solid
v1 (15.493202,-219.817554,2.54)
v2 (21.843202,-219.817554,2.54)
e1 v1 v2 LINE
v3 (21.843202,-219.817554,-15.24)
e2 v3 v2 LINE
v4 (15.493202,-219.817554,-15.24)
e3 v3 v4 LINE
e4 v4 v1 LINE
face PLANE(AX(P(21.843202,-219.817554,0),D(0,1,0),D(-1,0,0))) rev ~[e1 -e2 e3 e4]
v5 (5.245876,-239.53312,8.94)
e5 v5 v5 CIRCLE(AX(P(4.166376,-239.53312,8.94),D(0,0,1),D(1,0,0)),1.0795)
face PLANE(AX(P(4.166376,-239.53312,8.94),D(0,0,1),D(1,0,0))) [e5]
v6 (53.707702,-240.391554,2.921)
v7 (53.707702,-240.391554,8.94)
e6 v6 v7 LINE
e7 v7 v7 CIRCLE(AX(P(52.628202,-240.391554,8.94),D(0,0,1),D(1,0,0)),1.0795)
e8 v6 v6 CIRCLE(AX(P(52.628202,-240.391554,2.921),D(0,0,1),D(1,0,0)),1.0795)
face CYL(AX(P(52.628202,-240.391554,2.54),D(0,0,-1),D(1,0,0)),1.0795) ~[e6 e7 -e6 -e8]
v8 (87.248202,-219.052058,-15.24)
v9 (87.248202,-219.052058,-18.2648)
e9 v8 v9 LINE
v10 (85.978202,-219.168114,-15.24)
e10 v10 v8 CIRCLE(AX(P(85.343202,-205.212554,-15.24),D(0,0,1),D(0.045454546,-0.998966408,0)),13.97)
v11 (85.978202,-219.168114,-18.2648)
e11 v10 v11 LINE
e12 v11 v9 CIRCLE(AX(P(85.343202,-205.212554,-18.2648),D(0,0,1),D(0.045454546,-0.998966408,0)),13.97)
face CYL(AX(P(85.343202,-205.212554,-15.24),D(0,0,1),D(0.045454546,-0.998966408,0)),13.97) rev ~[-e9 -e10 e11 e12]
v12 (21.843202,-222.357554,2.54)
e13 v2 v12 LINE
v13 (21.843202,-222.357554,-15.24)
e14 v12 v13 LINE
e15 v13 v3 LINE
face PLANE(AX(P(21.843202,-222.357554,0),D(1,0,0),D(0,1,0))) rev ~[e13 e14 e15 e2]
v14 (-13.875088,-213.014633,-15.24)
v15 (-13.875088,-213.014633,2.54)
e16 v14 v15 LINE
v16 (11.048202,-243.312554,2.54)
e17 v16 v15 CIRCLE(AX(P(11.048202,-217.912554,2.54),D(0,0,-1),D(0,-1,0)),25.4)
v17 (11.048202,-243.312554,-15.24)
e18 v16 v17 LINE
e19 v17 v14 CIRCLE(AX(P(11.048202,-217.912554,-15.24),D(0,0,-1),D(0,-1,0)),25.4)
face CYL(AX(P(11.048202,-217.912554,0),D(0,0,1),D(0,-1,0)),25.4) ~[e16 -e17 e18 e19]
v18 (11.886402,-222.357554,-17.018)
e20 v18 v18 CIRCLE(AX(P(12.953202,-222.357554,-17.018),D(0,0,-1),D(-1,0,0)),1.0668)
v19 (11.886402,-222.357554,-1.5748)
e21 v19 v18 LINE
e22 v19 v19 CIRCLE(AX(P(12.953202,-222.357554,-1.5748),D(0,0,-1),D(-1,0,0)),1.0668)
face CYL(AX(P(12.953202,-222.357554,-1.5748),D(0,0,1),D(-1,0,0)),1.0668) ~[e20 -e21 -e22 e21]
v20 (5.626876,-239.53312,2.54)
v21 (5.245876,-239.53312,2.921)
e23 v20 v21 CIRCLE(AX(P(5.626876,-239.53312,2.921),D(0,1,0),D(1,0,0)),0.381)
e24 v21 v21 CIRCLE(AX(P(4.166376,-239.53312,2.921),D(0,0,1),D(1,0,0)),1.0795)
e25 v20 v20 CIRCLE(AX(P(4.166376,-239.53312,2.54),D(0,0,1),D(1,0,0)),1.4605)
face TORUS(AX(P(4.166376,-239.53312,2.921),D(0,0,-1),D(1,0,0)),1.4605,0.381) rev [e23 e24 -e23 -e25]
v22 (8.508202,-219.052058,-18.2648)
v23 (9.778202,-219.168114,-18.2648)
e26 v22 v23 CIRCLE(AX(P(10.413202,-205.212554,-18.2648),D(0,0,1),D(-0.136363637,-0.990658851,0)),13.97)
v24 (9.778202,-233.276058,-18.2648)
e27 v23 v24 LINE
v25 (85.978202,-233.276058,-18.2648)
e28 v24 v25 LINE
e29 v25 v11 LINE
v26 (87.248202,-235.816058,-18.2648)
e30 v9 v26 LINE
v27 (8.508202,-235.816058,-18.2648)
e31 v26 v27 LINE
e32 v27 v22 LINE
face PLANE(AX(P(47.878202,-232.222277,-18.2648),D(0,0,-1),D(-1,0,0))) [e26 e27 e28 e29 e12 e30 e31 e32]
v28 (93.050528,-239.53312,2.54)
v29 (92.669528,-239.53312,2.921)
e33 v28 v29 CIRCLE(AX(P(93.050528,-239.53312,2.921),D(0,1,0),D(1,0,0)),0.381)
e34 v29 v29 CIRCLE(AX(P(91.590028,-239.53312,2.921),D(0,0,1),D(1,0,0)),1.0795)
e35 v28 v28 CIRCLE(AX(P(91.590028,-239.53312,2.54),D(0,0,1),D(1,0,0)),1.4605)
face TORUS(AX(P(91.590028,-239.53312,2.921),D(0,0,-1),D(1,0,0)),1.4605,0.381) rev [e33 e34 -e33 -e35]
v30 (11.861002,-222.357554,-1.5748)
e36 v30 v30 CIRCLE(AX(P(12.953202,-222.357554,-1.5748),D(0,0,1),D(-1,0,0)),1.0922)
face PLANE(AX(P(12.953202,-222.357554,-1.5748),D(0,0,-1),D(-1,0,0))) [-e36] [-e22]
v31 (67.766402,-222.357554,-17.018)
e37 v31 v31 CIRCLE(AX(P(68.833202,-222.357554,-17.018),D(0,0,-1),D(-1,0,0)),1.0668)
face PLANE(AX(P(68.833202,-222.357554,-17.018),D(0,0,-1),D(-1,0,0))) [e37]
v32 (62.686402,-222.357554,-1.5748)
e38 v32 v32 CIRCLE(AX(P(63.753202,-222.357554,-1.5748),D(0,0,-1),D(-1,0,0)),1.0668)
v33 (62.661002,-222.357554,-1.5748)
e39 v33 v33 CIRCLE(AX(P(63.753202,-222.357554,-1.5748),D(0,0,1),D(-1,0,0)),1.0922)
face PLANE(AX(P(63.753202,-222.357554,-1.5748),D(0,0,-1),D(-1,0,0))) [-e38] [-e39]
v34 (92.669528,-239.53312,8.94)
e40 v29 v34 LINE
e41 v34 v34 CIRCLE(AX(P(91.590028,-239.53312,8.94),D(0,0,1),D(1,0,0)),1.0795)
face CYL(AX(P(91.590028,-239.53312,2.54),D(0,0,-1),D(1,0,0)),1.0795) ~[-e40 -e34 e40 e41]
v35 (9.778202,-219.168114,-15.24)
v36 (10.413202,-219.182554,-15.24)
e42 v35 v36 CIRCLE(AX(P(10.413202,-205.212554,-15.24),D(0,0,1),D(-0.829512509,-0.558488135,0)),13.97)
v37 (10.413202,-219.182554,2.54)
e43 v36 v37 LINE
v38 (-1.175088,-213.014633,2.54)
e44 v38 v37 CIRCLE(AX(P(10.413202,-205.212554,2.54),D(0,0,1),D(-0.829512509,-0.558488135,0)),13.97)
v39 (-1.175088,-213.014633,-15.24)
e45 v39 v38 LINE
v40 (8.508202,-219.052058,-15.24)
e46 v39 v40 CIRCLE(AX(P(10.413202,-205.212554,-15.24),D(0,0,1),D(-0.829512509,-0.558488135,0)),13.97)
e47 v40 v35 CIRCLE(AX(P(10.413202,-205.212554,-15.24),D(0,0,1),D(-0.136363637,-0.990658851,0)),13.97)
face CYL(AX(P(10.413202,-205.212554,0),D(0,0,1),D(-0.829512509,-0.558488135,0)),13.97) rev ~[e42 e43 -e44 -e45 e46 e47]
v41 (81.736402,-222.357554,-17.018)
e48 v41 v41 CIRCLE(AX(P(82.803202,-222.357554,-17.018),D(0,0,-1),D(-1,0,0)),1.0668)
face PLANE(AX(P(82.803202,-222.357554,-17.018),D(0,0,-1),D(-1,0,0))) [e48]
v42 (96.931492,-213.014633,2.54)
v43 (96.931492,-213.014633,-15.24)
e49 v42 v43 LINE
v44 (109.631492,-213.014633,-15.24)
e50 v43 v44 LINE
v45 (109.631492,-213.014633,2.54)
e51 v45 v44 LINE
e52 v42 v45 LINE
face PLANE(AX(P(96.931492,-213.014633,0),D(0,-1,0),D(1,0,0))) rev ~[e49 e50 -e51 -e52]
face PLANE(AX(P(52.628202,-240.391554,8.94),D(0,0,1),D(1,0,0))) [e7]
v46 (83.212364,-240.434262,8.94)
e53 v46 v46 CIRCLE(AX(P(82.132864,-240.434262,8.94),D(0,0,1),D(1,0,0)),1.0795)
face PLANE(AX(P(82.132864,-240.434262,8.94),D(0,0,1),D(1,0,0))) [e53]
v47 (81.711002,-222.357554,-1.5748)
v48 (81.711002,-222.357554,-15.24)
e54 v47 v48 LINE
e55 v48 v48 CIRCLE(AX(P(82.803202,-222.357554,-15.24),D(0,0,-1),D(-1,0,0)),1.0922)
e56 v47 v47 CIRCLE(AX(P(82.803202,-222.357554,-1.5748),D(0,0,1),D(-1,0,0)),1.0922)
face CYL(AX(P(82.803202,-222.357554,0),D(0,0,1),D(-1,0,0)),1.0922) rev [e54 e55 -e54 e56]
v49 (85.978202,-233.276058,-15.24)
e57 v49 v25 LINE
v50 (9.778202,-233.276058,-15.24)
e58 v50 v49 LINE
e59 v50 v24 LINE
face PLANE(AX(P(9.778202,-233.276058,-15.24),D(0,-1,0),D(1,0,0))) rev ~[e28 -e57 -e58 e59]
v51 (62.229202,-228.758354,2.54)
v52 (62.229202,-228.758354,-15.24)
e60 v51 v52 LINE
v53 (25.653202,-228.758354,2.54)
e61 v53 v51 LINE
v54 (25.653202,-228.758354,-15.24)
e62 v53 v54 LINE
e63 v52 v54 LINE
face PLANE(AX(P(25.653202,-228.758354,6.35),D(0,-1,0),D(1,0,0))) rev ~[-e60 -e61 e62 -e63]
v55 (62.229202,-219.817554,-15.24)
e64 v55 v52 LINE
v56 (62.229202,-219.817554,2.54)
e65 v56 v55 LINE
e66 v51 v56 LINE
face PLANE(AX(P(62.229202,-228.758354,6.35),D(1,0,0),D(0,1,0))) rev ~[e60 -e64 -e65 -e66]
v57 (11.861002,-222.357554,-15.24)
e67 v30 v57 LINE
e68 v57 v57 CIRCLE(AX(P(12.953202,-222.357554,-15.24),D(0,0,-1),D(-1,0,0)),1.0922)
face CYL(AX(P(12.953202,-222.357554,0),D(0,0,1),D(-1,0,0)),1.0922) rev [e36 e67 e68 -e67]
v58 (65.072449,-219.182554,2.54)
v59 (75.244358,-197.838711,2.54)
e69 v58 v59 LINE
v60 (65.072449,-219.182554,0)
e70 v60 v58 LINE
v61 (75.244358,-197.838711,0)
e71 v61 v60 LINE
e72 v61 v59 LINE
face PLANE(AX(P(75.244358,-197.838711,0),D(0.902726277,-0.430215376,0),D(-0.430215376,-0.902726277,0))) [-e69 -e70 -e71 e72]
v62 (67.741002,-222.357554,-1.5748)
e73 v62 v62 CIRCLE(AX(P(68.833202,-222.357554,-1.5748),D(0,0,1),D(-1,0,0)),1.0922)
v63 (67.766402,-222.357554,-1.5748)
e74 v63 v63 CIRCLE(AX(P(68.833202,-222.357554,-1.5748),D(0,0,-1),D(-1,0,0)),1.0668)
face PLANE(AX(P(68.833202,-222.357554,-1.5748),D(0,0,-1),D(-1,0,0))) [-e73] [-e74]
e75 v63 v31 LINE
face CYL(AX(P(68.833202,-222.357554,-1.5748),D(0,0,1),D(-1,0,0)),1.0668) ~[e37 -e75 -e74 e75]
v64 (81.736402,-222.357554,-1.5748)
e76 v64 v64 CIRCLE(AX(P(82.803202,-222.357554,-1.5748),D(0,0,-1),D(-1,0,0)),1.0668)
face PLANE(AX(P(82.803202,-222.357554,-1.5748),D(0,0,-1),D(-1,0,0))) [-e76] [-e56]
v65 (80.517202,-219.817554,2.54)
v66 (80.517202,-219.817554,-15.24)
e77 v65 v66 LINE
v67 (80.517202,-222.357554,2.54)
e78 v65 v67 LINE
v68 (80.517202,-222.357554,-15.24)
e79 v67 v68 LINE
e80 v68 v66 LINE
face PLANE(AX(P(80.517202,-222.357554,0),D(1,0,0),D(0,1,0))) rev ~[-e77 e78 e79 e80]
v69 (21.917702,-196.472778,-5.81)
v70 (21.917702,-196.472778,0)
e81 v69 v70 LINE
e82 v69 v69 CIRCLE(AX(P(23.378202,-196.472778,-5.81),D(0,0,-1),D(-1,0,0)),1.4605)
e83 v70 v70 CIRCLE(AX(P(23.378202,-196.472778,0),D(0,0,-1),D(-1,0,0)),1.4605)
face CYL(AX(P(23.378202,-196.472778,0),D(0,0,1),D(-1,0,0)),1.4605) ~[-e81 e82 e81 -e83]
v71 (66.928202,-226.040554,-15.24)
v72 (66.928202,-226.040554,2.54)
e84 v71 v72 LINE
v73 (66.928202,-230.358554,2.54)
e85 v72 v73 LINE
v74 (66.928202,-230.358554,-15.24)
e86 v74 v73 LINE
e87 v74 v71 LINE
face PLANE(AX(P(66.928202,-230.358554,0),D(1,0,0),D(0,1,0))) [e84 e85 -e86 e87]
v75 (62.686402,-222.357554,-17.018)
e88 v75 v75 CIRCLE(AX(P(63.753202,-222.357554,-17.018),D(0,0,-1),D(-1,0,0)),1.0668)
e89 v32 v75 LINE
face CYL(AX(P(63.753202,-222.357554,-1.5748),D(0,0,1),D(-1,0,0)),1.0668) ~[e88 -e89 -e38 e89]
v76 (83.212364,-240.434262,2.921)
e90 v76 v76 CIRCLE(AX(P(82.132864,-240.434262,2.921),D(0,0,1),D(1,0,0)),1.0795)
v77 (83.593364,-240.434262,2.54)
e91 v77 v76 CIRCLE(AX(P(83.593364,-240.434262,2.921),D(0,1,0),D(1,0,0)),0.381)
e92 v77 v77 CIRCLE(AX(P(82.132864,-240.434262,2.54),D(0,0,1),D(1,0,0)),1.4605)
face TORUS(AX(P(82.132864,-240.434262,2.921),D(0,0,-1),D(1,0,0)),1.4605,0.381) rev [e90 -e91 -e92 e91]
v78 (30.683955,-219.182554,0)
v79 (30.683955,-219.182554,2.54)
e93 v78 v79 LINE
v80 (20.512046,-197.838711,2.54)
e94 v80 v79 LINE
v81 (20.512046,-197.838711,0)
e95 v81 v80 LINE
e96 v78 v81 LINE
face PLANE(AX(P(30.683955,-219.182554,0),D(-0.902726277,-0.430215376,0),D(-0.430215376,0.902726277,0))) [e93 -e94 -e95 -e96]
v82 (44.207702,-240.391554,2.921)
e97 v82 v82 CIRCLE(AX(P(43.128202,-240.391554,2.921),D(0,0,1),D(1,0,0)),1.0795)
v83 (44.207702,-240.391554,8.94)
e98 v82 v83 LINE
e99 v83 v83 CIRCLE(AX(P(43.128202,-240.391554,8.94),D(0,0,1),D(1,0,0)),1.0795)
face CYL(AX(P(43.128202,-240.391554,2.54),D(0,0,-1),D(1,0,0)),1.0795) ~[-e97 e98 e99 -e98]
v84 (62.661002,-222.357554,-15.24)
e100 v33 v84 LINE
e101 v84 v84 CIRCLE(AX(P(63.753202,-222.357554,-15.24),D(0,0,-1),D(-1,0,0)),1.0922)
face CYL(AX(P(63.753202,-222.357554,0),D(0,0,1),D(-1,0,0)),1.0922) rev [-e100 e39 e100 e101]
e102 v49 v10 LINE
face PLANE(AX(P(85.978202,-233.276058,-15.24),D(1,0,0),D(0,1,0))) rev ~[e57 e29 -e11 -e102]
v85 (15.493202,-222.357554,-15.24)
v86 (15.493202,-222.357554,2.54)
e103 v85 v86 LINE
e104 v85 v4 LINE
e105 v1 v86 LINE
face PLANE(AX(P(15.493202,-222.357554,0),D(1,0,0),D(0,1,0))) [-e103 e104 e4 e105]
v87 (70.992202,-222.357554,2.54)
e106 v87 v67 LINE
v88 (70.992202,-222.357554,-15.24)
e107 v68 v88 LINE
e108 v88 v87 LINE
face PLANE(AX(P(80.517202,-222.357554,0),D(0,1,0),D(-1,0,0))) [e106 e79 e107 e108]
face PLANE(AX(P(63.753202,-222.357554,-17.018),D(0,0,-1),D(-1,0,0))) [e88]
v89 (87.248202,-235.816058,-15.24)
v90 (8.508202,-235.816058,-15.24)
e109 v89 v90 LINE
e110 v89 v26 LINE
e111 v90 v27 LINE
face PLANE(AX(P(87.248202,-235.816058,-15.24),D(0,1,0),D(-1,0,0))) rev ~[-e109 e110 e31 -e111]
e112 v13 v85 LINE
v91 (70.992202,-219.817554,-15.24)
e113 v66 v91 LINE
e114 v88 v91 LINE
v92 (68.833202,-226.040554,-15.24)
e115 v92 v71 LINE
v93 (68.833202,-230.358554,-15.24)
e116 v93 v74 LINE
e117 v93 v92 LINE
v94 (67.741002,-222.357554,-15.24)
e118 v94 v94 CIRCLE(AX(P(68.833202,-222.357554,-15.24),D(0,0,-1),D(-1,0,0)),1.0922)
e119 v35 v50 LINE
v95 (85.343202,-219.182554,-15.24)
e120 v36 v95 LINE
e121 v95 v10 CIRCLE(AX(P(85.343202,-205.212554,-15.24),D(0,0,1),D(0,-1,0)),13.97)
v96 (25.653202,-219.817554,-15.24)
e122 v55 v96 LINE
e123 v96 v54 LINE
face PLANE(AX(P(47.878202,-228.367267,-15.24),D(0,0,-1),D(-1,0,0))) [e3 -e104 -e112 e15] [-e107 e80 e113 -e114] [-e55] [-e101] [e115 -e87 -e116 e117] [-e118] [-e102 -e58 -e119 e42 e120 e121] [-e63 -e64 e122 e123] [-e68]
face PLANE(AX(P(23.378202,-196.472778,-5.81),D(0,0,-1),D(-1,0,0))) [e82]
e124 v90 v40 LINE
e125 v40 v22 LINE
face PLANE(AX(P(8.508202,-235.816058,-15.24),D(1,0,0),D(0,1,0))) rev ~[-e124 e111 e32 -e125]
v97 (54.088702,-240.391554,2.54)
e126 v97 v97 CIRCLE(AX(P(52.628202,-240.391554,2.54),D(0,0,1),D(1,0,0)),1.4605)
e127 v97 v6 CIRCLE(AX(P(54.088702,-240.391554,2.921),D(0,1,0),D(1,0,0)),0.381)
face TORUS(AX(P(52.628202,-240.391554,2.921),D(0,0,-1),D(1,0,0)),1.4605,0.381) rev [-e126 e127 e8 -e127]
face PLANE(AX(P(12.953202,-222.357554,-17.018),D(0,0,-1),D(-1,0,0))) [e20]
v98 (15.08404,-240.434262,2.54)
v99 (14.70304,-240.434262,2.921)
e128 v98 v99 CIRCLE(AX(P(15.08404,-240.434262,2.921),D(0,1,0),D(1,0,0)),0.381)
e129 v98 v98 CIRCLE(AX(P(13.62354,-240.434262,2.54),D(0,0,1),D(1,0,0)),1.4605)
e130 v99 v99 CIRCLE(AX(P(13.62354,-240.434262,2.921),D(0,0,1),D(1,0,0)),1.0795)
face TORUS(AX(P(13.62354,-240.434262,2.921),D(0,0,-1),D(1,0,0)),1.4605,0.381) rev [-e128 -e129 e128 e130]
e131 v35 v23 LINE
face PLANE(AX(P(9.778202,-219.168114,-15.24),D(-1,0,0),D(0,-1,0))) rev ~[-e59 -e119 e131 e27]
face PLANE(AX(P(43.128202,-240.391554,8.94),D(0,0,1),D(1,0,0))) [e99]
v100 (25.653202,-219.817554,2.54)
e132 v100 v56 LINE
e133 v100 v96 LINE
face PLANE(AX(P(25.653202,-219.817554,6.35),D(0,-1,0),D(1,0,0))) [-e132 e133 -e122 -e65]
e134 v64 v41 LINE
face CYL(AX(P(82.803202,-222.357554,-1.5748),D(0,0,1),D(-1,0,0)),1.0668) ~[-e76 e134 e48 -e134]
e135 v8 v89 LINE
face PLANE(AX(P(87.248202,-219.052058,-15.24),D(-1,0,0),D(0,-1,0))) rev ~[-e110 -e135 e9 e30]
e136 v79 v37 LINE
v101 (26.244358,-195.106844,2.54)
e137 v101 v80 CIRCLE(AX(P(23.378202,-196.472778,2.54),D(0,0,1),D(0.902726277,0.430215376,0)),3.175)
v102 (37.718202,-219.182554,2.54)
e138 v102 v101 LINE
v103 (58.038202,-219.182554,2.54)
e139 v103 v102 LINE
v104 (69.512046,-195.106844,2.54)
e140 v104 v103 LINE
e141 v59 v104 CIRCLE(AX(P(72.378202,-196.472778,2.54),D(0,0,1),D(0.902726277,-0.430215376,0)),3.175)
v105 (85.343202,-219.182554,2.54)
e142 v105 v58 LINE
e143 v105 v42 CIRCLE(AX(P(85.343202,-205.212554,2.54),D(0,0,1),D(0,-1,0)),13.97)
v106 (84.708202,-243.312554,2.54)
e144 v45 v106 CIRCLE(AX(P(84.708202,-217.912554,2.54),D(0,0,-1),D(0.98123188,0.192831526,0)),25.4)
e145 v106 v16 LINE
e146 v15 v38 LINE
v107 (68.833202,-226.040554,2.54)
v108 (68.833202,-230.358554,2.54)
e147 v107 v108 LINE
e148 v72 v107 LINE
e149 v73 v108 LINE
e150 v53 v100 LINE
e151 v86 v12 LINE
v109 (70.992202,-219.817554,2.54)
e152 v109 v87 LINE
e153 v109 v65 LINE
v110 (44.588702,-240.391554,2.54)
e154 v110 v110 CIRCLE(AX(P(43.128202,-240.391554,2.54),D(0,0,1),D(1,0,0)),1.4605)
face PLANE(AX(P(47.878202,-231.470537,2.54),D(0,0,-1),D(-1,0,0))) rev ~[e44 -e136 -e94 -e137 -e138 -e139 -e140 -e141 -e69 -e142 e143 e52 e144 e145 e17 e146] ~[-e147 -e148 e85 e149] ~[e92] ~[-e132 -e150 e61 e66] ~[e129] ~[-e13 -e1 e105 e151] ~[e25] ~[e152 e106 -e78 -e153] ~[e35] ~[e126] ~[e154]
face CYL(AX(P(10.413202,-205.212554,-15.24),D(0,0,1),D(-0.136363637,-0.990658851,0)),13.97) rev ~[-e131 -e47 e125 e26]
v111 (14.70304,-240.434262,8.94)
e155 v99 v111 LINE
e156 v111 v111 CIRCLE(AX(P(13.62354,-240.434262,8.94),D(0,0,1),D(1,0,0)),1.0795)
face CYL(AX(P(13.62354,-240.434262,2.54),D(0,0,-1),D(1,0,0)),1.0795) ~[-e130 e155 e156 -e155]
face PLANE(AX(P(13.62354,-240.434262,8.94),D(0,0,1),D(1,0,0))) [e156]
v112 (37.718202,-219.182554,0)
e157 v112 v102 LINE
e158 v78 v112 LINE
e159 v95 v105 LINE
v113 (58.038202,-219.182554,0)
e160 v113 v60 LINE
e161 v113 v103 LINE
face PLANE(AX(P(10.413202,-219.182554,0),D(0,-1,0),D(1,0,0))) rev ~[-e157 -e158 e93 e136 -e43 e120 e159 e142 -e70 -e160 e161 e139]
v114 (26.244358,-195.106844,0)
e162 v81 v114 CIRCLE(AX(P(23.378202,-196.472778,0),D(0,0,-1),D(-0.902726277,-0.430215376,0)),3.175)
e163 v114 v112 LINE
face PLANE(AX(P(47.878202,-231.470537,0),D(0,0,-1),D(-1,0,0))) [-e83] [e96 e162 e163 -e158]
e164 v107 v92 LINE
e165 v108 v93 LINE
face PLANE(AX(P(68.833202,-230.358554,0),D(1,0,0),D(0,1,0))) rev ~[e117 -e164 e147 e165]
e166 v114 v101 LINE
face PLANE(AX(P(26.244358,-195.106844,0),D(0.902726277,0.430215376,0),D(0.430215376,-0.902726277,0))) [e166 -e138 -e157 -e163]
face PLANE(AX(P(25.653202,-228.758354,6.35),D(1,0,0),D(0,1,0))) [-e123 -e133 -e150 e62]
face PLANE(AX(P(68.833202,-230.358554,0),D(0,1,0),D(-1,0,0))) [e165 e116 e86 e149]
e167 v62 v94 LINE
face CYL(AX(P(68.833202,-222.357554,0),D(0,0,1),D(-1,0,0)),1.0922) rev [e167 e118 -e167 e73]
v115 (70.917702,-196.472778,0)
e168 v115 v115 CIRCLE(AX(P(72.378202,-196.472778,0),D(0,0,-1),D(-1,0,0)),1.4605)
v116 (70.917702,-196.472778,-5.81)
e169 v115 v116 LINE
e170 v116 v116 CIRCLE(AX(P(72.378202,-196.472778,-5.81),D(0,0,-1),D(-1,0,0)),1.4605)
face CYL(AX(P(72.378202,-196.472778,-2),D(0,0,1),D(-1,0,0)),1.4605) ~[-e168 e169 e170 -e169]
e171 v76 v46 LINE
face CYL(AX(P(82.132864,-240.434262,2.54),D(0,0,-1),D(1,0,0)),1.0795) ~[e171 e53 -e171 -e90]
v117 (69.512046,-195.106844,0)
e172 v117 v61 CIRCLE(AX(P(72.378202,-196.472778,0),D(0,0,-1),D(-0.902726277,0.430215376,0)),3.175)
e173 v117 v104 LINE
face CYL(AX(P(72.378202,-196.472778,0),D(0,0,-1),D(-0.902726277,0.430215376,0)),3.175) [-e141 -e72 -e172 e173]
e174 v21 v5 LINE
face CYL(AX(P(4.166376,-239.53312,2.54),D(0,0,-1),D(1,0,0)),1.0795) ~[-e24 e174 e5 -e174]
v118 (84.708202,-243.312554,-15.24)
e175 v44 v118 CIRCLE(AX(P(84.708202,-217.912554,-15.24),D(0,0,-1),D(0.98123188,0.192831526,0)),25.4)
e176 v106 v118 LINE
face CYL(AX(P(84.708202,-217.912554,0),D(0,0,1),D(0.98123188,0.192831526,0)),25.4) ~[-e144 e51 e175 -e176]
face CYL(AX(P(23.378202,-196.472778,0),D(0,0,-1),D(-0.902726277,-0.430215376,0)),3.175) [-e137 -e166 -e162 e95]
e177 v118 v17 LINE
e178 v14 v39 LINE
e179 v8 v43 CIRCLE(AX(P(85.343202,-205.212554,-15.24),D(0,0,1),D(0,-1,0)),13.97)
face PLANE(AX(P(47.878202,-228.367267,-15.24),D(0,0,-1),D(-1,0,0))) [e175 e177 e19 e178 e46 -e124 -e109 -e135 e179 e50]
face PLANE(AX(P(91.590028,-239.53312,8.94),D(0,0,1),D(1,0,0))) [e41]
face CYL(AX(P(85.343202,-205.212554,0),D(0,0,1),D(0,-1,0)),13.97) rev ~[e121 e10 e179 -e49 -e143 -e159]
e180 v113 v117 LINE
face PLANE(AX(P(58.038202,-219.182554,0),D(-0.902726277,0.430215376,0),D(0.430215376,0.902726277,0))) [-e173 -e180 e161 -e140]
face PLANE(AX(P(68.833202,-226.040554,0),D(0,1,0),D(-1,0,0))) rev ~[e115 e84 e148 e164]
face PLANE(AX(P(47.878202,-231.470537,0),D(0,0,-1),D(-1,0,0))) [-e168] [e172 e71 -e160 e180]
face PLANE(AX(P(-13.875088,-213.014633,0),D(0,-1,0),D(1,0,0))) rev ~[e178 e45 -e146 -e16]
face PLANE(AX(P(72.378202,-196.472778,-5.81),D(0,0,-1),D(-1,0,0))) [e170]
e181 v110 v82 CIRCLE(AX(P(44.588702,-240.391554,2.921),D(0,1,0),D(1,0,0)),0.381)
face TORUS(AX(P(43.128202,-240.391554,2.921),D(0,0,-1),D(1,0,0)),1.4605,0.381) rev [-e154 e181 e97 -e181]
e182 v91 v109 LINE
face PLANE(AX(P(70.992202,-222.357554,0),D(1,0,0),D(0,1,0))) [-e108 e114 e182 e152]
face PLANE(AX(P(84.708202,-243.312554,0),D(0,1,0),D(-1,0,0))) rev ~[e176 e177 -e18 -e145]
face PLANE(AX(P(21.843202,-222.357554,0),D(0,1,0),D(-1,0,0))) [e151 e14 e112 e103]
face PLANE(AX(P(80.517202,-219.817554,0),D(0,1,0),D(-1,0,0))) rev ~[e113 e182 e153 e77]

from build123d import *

# Parameters (mm, degrees)
BOSS_EXTRUDE1_DEPTH     = 6.35
SKETCH2_R               = 1.4605
BOSS_EXTRUDE2_DEPTH     = 2
SKETCH3_W               = 29.464
SKETCH3_H               = 5.08
SKETCH3_W_2             = 6.35
SKETCH3_H_2             = 2.54
SKETCH3_W_3             = 9.525
SKETCH3_W_4             = 1.905
SKETCH3_H_3             = 4.318
CUT_EXTRUDE1_DEPTH      = 3.81
BOSS_EXTRUDE3_DEPTH     = 1.5748
BOSS_EXTRUDE4_DEPTH     = 2.54
SKETCH6_R               = 1.0795
BOSS_EXTRUDE5_DEPTH     = 6.4
SKETCH7_R               = 1.0922
SKETCH7_W               = 29.464
SKETCH7_H               = 5.08
SKETCH7_W_2             = 9.525
SKETCH7_H_2             = 2.54
SKETCH7_W_3             = 1.905
SKETCH7_H_3             = 4.318
SKETCH7_W_4             = 6.35
BOSS_EXTRUDE6_DEPTH     = 15.24
SKETCH8_R               = 1.4605
BOSS_EXTRUDE7_DEPTH     = 3.81
BOSS_EXTRUDE8_START     = -13.6652
SKETCH9_R               = 1.0668
BOSS_EXTRUDE8_DEPTH     = 15.4432
BOSS_EXTRUDE9_DEPTH     = 3.0248
FILLET1_R               = 0.381
SKETCH12_W              = 29.464
SKETCH12_H              = 5.08
CUT_EXTRUDE2_DEPTH      = 3.59
CUT_EXTRUDE2_DEPTH_BACK = 25.6148
SKETCH13_W              = 36.576
SKETCH13_H              = 8.9408
CUT_EXTRUDE3_DEPTH      = 3.59
CUT_EXTRUDE3_DEPTH_BACK = 25.6148
SKETCH14_W              = 36.576
SKETCH14_H              = 8.9408
CUT_EXTRUDE4_DEPTH      = 3.59
CUT_EXTRUDE4_DEPTH_BACK = 3.81


with BuildPart() as part:
    # Sketch1 → Boss-Extrude1 (new body)
    with BuildSketch(Plane.XY):
        with BuildLine():
            Line((26.244357922, -195.106843749), (37.718201994, -219.182553546))
            Line((37.718201994, -219.182553546), (58.038201994, -219.182553546))
            Line((58.038201994, -219.182553546), (69.512046065, -195.106843749))
            ThreePointArc((69.512046065, -195.106843749), (73.744135812, -193.606621639), (75.244357922, -197.838711386))
            Line((75.244357922, -197.838711386), (65.072449433, -219.182553546))
            Line((65.072449433, -219.182553546), (85.343201994, -219.182553546))
            Line((85.343201994, -219.182553546), (85.343201994, -233.152553546))
            Line((85.343201994, -233.152553546), (10.413201994, -233.152553546))
            Line((10.413201994, -233.152553546), (10.413201994, -219.182553546))
            Line((10.413201994, -219.182553546), (30.683954554, -219.182553546))
            Line((30.683954554, -219.182553546), (20.512046065, -197.838711386))
            ThreePointArc((20.512046065, -197.838711386), (22.012268176, -193.606621639), (26.244357922, -195.106843749))
        make_face()
    extrude(amount=BOSS_EXTRUDE1_DEPTH)

    # Sketch2 → Boss-Extrude2 (add)
    with BuildSketch(Plane(origin=(0, 0, 0), x_dir=(-1, 0, 0), z_dir=(0, 0, -1))):
        with Locations((-23.378201994, -196.472777568)):
            Circle(SKETCH2_R)
        with Locations((-72.378201994, -196.472777568)):
            Circle(SKETCH2_R)
    extrude(amount=BOSS_EXTRUDE2_DEPTH)

    # Sketch3 → Cut-Extrude1 (cut)
    with BuildSketch(Plane(origin=(0, 0, 0), x_dir=(-1, 0, 0), z_dir=(0, 0, -1))):
        with Locations((-44.957201994, -222.357553546)):
            Rectangle(SKETCH3_W, SKETCH3_H)
        with Locations((-18.668201994, -221.087553546)):
            Rectangle(SKETCH3_W_2, SKETCH3_H_2)
        with Locations((-75.754701994, -221.087553546)):
            Rectangle(SKETCH3_W_3, SKETCH3_H_2)
        with Locations((-67.880701994, -228.199553546)):
            Rectangle(SKETCH3_W_4, SKETCH3_H_3)
    extrude(amount=-CUT_EXTRUDE1_DEPTH, mode=Mode.SUBTRACT)

    # Sketch4 → Boss-Extrude3 (add)
    with BuildSketch(Plane(origin=(0, 0, 0), x_dir=(-1, 0, 0), z_dir=(0, 0, -1))):
        with BuildLine():
            ThreePointArc((-11.861001994, -222.357553546), (-12.953201994, -221.265353546), (-14.045401994, -222.357553546))
            ThreePointArc((-14.045401994, -222.357553546), (-12.953201994, -223.449753546), (-11.861001994, -222.357553546))
        make_face()
        with BuildLine():
            ThreePointArc((-62.661001994, -222.357553546), (-63.753201994, -221.265353546), (-64.845401994, -222.357553546))
            ThreePointArc((-64.845401994, -222.357553546), (-63.753201994, -223.449753546), (-62.661001994, -222.357553546))
        make_face()
        with BuildLine():
            ThreePointArc((-67.741001994, -222.357553546), (-68.833201994, -221.265353546), (-69.925401994, -222.357553546))
            ThreePointArc((-69.925401994, -222.357553546), (-68.833201994, -223.449753546), (-67.741001994, -222.357553546))
        make_face()
        with BuildLine():
            ThreePointArc((-81.711001994, -222.357553546), (-82.803201994, -221.265353546), (-83.895401994, -222.357553546))
            ThreePointArc((-83.895401994, -222.357553546), (-82.803201994, -223.449753546), (-81.711001994, -222.357553546))
        make_face()
    extrude(amount=BOSS_EXTRUDE3_DEPTH)

    # Sketch5 → Boss-Extrude4 (add)
    with BuildSketch(Plane(origin=(0, 0, 0), x_dir=(-1, 0, 0), z_dir=(0, 0, -1))):
        with BuildLine():
            Line((13.875087762, -213.01463279), (1.175087762, -213.01463279))
            ThreePointArc((1.175087762, -213.01463279), (-3.84944343, -217.54454339), (-10.413201994, -219.182553546))
            Line((-10.413201994, -219.182553546), (-10.413201994, -233.152553546))
            Line((-10.413201994, -233.152553546), (-85.343201994, -233.152553546))
            Line((-85.343201994, -233.152553546), (-85.343201994, -219.182553546))
            ThreePointArc((-85.343201994, -219.182553546), (-91.906960557, -217.54454339), (-96.93149175, -213.01463279))
            Line((-96.93149175, -213.01463279), (-109.63149175, -213.01463279))
            ThreePointArc((-109.63149175, -213.01463279), (-104.324103543, -234.048736688), (-84.708201994, -243.312553546))
            Line((-84.708201994, -243.312553546), (-11.048201994, -243.312553546))
            ThreePointArc((-11.048201994, -243.312553546), (8.567699556, -234.048736688), (13.875087762, -213.01463279))
        make_face()
    extrude(amount=-BOSS_EXTRUDE4_DEPTH)

    # Sketch6 → Boss-Extrude5 (add)
    with BuildSketch(Plane.XY.offset(2.54)):
        with Locations((52.628201994, -240.391553546)):
            Circle(SKETCH6_R)
        with Locations((43.128201994, -240.391553546)):
            Circle(SKETCH6_R)
        with Locations((4.166376212, -239.533120091)):
            Circle(SKETCH6_R)
        with Locations((13.623539791, -240.434262169)):
            Circle(SKETCH6_R)
        with Locations((82.132864197, -240.434262169)):
            Circle(SKETCH6_R)
        with Locations((91.590027775, -239.533120091)):
            Circle(SKETCH6_R)
    extrude(amount=BOSS_EXTRUDE5_DEPTH)

    # Sketch7 → Boss-Extrude6 (add)
    with BuildSketch(Plane(origin=(0, 0, 0), x_dir=(-1, 0, 0), z_dir=(0, 0, -1))):
        with BuildLine():
            Line((-30.683954554, -219.182553546), (-37.718201994, -219.182553546))
            Line((-37.718201994, -219.182553546), (-58.038201994, -219.182553546))
            Line((-58.038201994, -219.182553546), (-65.072449433, -219.182553546))
            Line((-65.072449433, -219.182553546), (-85.343201994, -219.182553546))
            ThreePointArc((-85.343201994, -219.182553546), (-91.906960557, -217.54454339), (-96.93149175, -213.01463279))
            Line((-96.93149175, -213.01463279), (-109.63149175, -213.01463279))
            ThreePointArc((-109.63149175, -213.01463279), (-104.324103543, -234.048736688), (-84.708201994, -243.312553546))
            Line((-84.708201994, -243.312553546), (-11.048201994, -243.312553546))
            ThreePointArc((-11.048201994, -243.312553546), (8.567699556, -234.048736688), (13.875087762, -213.01463279))
            Line((13.875087762, -213.01463279), (1.175087762, -213.01463279))
            ThreePointArc((1.175087762, -213.01463279), (-3.84944343, -217.54454339), (-10.413201994, -219.182553546))
            Line((-10.413201994, -219.182553546), (-30.683954554, -219.182553546))
        make_face()
        with Locations((-82.803201994, -222.357553546)):
            Circle(SKETCH7_R, mode=Mode.SUBTRACT)
        with Locations((-12.953201994, -222.357553546)):
            Circle(SKETCH7_R, mode=Mode.SUBTRACT)
        with Locations((-68.833201994, -222.357553546)):
            Circle(SKETCH7_R, mode=Mode.SUBTRACT)
        with Locations((-63.753201994, -222.357553546)):
            Circle(SKETCH7_R, mode=Mode.SUBTRACT)
        with Locations((-44.957201994, -222.357553546)):
            Rectangle(SKETCH7_W, SKETCH7_H, mode=Mode.SUBTRACT)
        with Locations((-75.754701994, -221.087553546)):
            Rectangle(SKETCH7_W_2, SKETCH7_H_2, mode=Mode.SUBTRACT)
        with Locations((-67.880701994, -228.199553546)):
            Rectangle(SKETCH7_W_3, SKETCH7_H_3, mode=Mode.SUBTRACT)
        with Locations((-18.668201994, -221.087553546)):
            Rectangle(SKETCH7_W_4, SKETCH7_H_2, mode=Mode.SUBTRACT)
    extrude(amount=BOSS_EXTRUDE6_DEPTH)

    # Sketch8 → Boss-Extrude7 (add)
    with BuildSketch(Plane(origin=(0, 0, -2), x_dir=(-1, 0, 0), z_dir=(0, 0, -1))):
        with Locations((-72.378201994, -196.472777568)):
            Circle(SKETCH8_R)
        with Locations((-23.378201994, -196.472777568)):
            Circle(SKETCH8_R)
    extrude(amount=BOSS_EXTRUDE7_DEPTH)

    # Sketch9 → Boss-Extrude8 (add)
    with BuildSketch(Plane(origin=(0, 0, -15.24), x_dir=(-1, 0, 0), z_dir=(0, 0, -1)).offset(BOSS_EXTRUDE8_START)):
        with Locations((-82.803201994, -222.357553546)):
            Circle(SKETCH9_R)
        with Locations((-63.753201994, -222.357553546)):
            Circle(SKETCH9_R)
        with Locations((-68.833201994, -222.357553546)):
            Circle(SKETCH9_R)
        with Locations((-12.953201994, -222.357553546)):
            Circle(SKETCH9_R)
    extrude(amount=BOSS_EXTRUDE8_DEPTH)

    # Sketch10 → Boss-Extrude9 (add)
    with BuildSketch(Plane(origin=(0, 0, -15.24), x_dir=(-1, 0, 0), z_dir=(0, 0, -1))):
        with BuildLine():
            Line((-87.248201994, -235.816057692), (-8.508201994, -235.816057692))
            Line((-8.508201994, -235.816057692), (-8.508201994, -219.052057692))
            ThreePointArc((-8.508201994, -219.052057692), (-9.141876983, -219.124585487), (-9.778201994, -219.168114266))
            Line((-9.778201994, -219.168114266), (-9.778201994, -233.276057692))
            Line((-9.778201994, -233.276057692), (-85.978201994, -233.276057692))
            Line((-85.978201994, -233.276057692), (-85.978201994, -219.168114266))
            ThreePointArc((-85.978201994, -219.168114266), (-86.614527004, -219.124585487), (-87.248201994, -219.052057692))
            Line((-87.248201994, -219.052057692), (-87.248201994, -235.816057692))
        make_face()
    extrude(amount=BOSS_EXTRUDE9_DEPTH)

    # Fillet1
    fillet1_edges = [part.edges().sort_by_distance(p)[0] for p in [
        (51.548701994, -240.391553546, 2.54),
        (42.048701994, -240.391553546, 2.54),
        (12.544039791, -240.434262169, 2.54),
        (3.086876212, -239.533120091, 2.54),
        (81.053364197, -240.434262169, 2.54),
        (90.510527775, -239.533120091, 2.54),
    ]]
    fillet(fillet1_edges, radius=FILLET1_R)

    # Sketch12 → Cut-Extrude2 (cut, two sides)
    with BuildSketch(Plane.XY.offset(6.35)) as cut_extrude2_sk:
        with Locations((44.957201994, -222.357553546)):
            Rectangle(SKETCH12_W, SKETCH12_H)
    extrude(amount=CUT_EXTRUDE2_DEPTH, mode=Mode.SUBTRACT)
    extrude(cut_extrude2_sk.sketch, amount=-CUT_EXTRUDE2_DEPTH_BACK, mode=Mode.SUBTRACT)

    # Sketch13 → Cut-Extrude3 (cut, two sides)
    with BuildSketch(Plane.XY.offset(6.35)) as cut_extrude3_sk:
        with Locations((43.941201994, -224.287953546)):
            Rectangle(SKETCH13_W, SKETCH13_H)
    extrude(amount=CUT_EXTRUDE3_DEPTH, mode=Mode.SUBTRACT)
    extrude(cut_extrude3_sk.sketch, amount=-CUT_EXTRUDE3_DEPTH_BACK, mode=Mode.SUBTRACT)

    # Sketch14 → Cut-Extrude4 (cut, two sides)
    with BuildSketch(Plane.XY.offset(6.35)) as cut_extrude4_sk:
        with BuildLine():
            Line((85.343201994, -219.182553546), (65.072449433, -219.182553546))
            Line((65.072449433, -219.182553546), (75.244357922, -197.838711386))
            ThreePointArc((75.244357922, -197.838711386), (73.744135812, -193.606621639), (69.512046065, -195.106843749))
            Line((69.512046065, -195.106843749), (58.038201994, -219.182553546))
            Line((58.038201994, -219.182553546), (37.718201994, -219.182553546))
            Line((37.718201994, -219.182553546), (26.244357922, -195.106843749))
            ThreePointArc((26.244357922, -195.106843749), (22.012268176, -193.606621639), (20.512046065, -197.838711386))
            Line((20.512046065, -197.838711386), (30.683954554, -219.182553546))
            Line((30.683954554, -219.182553546), (10.413201994, -219.182553546))
            Line((10.413201994, -219.182553546), (10.413201994, -233.152553546))
            Line((10.413201994, -233.152553546), (85.343201994, -233.152553546))
            Line((85.343201994, -233.152553546), (85.343201994, -219.182553546))
        make_face()
        with Locations((43.941201994, -224.287953546)):
            Rectangle(SKETCH14_W, SKETCH14_H, mode=Mode.SUBTRACT)
    extrude(amount=CUT_EXTRUDE4_DEPTH, mode=Mode.SUBTRACT)
    extrude(cut_extrude4_sk.sketch, amount=-CUT_EXTRUDE4_DEPTH_BACK, mode=Mode.SUBTRACT)


solid = part.part
